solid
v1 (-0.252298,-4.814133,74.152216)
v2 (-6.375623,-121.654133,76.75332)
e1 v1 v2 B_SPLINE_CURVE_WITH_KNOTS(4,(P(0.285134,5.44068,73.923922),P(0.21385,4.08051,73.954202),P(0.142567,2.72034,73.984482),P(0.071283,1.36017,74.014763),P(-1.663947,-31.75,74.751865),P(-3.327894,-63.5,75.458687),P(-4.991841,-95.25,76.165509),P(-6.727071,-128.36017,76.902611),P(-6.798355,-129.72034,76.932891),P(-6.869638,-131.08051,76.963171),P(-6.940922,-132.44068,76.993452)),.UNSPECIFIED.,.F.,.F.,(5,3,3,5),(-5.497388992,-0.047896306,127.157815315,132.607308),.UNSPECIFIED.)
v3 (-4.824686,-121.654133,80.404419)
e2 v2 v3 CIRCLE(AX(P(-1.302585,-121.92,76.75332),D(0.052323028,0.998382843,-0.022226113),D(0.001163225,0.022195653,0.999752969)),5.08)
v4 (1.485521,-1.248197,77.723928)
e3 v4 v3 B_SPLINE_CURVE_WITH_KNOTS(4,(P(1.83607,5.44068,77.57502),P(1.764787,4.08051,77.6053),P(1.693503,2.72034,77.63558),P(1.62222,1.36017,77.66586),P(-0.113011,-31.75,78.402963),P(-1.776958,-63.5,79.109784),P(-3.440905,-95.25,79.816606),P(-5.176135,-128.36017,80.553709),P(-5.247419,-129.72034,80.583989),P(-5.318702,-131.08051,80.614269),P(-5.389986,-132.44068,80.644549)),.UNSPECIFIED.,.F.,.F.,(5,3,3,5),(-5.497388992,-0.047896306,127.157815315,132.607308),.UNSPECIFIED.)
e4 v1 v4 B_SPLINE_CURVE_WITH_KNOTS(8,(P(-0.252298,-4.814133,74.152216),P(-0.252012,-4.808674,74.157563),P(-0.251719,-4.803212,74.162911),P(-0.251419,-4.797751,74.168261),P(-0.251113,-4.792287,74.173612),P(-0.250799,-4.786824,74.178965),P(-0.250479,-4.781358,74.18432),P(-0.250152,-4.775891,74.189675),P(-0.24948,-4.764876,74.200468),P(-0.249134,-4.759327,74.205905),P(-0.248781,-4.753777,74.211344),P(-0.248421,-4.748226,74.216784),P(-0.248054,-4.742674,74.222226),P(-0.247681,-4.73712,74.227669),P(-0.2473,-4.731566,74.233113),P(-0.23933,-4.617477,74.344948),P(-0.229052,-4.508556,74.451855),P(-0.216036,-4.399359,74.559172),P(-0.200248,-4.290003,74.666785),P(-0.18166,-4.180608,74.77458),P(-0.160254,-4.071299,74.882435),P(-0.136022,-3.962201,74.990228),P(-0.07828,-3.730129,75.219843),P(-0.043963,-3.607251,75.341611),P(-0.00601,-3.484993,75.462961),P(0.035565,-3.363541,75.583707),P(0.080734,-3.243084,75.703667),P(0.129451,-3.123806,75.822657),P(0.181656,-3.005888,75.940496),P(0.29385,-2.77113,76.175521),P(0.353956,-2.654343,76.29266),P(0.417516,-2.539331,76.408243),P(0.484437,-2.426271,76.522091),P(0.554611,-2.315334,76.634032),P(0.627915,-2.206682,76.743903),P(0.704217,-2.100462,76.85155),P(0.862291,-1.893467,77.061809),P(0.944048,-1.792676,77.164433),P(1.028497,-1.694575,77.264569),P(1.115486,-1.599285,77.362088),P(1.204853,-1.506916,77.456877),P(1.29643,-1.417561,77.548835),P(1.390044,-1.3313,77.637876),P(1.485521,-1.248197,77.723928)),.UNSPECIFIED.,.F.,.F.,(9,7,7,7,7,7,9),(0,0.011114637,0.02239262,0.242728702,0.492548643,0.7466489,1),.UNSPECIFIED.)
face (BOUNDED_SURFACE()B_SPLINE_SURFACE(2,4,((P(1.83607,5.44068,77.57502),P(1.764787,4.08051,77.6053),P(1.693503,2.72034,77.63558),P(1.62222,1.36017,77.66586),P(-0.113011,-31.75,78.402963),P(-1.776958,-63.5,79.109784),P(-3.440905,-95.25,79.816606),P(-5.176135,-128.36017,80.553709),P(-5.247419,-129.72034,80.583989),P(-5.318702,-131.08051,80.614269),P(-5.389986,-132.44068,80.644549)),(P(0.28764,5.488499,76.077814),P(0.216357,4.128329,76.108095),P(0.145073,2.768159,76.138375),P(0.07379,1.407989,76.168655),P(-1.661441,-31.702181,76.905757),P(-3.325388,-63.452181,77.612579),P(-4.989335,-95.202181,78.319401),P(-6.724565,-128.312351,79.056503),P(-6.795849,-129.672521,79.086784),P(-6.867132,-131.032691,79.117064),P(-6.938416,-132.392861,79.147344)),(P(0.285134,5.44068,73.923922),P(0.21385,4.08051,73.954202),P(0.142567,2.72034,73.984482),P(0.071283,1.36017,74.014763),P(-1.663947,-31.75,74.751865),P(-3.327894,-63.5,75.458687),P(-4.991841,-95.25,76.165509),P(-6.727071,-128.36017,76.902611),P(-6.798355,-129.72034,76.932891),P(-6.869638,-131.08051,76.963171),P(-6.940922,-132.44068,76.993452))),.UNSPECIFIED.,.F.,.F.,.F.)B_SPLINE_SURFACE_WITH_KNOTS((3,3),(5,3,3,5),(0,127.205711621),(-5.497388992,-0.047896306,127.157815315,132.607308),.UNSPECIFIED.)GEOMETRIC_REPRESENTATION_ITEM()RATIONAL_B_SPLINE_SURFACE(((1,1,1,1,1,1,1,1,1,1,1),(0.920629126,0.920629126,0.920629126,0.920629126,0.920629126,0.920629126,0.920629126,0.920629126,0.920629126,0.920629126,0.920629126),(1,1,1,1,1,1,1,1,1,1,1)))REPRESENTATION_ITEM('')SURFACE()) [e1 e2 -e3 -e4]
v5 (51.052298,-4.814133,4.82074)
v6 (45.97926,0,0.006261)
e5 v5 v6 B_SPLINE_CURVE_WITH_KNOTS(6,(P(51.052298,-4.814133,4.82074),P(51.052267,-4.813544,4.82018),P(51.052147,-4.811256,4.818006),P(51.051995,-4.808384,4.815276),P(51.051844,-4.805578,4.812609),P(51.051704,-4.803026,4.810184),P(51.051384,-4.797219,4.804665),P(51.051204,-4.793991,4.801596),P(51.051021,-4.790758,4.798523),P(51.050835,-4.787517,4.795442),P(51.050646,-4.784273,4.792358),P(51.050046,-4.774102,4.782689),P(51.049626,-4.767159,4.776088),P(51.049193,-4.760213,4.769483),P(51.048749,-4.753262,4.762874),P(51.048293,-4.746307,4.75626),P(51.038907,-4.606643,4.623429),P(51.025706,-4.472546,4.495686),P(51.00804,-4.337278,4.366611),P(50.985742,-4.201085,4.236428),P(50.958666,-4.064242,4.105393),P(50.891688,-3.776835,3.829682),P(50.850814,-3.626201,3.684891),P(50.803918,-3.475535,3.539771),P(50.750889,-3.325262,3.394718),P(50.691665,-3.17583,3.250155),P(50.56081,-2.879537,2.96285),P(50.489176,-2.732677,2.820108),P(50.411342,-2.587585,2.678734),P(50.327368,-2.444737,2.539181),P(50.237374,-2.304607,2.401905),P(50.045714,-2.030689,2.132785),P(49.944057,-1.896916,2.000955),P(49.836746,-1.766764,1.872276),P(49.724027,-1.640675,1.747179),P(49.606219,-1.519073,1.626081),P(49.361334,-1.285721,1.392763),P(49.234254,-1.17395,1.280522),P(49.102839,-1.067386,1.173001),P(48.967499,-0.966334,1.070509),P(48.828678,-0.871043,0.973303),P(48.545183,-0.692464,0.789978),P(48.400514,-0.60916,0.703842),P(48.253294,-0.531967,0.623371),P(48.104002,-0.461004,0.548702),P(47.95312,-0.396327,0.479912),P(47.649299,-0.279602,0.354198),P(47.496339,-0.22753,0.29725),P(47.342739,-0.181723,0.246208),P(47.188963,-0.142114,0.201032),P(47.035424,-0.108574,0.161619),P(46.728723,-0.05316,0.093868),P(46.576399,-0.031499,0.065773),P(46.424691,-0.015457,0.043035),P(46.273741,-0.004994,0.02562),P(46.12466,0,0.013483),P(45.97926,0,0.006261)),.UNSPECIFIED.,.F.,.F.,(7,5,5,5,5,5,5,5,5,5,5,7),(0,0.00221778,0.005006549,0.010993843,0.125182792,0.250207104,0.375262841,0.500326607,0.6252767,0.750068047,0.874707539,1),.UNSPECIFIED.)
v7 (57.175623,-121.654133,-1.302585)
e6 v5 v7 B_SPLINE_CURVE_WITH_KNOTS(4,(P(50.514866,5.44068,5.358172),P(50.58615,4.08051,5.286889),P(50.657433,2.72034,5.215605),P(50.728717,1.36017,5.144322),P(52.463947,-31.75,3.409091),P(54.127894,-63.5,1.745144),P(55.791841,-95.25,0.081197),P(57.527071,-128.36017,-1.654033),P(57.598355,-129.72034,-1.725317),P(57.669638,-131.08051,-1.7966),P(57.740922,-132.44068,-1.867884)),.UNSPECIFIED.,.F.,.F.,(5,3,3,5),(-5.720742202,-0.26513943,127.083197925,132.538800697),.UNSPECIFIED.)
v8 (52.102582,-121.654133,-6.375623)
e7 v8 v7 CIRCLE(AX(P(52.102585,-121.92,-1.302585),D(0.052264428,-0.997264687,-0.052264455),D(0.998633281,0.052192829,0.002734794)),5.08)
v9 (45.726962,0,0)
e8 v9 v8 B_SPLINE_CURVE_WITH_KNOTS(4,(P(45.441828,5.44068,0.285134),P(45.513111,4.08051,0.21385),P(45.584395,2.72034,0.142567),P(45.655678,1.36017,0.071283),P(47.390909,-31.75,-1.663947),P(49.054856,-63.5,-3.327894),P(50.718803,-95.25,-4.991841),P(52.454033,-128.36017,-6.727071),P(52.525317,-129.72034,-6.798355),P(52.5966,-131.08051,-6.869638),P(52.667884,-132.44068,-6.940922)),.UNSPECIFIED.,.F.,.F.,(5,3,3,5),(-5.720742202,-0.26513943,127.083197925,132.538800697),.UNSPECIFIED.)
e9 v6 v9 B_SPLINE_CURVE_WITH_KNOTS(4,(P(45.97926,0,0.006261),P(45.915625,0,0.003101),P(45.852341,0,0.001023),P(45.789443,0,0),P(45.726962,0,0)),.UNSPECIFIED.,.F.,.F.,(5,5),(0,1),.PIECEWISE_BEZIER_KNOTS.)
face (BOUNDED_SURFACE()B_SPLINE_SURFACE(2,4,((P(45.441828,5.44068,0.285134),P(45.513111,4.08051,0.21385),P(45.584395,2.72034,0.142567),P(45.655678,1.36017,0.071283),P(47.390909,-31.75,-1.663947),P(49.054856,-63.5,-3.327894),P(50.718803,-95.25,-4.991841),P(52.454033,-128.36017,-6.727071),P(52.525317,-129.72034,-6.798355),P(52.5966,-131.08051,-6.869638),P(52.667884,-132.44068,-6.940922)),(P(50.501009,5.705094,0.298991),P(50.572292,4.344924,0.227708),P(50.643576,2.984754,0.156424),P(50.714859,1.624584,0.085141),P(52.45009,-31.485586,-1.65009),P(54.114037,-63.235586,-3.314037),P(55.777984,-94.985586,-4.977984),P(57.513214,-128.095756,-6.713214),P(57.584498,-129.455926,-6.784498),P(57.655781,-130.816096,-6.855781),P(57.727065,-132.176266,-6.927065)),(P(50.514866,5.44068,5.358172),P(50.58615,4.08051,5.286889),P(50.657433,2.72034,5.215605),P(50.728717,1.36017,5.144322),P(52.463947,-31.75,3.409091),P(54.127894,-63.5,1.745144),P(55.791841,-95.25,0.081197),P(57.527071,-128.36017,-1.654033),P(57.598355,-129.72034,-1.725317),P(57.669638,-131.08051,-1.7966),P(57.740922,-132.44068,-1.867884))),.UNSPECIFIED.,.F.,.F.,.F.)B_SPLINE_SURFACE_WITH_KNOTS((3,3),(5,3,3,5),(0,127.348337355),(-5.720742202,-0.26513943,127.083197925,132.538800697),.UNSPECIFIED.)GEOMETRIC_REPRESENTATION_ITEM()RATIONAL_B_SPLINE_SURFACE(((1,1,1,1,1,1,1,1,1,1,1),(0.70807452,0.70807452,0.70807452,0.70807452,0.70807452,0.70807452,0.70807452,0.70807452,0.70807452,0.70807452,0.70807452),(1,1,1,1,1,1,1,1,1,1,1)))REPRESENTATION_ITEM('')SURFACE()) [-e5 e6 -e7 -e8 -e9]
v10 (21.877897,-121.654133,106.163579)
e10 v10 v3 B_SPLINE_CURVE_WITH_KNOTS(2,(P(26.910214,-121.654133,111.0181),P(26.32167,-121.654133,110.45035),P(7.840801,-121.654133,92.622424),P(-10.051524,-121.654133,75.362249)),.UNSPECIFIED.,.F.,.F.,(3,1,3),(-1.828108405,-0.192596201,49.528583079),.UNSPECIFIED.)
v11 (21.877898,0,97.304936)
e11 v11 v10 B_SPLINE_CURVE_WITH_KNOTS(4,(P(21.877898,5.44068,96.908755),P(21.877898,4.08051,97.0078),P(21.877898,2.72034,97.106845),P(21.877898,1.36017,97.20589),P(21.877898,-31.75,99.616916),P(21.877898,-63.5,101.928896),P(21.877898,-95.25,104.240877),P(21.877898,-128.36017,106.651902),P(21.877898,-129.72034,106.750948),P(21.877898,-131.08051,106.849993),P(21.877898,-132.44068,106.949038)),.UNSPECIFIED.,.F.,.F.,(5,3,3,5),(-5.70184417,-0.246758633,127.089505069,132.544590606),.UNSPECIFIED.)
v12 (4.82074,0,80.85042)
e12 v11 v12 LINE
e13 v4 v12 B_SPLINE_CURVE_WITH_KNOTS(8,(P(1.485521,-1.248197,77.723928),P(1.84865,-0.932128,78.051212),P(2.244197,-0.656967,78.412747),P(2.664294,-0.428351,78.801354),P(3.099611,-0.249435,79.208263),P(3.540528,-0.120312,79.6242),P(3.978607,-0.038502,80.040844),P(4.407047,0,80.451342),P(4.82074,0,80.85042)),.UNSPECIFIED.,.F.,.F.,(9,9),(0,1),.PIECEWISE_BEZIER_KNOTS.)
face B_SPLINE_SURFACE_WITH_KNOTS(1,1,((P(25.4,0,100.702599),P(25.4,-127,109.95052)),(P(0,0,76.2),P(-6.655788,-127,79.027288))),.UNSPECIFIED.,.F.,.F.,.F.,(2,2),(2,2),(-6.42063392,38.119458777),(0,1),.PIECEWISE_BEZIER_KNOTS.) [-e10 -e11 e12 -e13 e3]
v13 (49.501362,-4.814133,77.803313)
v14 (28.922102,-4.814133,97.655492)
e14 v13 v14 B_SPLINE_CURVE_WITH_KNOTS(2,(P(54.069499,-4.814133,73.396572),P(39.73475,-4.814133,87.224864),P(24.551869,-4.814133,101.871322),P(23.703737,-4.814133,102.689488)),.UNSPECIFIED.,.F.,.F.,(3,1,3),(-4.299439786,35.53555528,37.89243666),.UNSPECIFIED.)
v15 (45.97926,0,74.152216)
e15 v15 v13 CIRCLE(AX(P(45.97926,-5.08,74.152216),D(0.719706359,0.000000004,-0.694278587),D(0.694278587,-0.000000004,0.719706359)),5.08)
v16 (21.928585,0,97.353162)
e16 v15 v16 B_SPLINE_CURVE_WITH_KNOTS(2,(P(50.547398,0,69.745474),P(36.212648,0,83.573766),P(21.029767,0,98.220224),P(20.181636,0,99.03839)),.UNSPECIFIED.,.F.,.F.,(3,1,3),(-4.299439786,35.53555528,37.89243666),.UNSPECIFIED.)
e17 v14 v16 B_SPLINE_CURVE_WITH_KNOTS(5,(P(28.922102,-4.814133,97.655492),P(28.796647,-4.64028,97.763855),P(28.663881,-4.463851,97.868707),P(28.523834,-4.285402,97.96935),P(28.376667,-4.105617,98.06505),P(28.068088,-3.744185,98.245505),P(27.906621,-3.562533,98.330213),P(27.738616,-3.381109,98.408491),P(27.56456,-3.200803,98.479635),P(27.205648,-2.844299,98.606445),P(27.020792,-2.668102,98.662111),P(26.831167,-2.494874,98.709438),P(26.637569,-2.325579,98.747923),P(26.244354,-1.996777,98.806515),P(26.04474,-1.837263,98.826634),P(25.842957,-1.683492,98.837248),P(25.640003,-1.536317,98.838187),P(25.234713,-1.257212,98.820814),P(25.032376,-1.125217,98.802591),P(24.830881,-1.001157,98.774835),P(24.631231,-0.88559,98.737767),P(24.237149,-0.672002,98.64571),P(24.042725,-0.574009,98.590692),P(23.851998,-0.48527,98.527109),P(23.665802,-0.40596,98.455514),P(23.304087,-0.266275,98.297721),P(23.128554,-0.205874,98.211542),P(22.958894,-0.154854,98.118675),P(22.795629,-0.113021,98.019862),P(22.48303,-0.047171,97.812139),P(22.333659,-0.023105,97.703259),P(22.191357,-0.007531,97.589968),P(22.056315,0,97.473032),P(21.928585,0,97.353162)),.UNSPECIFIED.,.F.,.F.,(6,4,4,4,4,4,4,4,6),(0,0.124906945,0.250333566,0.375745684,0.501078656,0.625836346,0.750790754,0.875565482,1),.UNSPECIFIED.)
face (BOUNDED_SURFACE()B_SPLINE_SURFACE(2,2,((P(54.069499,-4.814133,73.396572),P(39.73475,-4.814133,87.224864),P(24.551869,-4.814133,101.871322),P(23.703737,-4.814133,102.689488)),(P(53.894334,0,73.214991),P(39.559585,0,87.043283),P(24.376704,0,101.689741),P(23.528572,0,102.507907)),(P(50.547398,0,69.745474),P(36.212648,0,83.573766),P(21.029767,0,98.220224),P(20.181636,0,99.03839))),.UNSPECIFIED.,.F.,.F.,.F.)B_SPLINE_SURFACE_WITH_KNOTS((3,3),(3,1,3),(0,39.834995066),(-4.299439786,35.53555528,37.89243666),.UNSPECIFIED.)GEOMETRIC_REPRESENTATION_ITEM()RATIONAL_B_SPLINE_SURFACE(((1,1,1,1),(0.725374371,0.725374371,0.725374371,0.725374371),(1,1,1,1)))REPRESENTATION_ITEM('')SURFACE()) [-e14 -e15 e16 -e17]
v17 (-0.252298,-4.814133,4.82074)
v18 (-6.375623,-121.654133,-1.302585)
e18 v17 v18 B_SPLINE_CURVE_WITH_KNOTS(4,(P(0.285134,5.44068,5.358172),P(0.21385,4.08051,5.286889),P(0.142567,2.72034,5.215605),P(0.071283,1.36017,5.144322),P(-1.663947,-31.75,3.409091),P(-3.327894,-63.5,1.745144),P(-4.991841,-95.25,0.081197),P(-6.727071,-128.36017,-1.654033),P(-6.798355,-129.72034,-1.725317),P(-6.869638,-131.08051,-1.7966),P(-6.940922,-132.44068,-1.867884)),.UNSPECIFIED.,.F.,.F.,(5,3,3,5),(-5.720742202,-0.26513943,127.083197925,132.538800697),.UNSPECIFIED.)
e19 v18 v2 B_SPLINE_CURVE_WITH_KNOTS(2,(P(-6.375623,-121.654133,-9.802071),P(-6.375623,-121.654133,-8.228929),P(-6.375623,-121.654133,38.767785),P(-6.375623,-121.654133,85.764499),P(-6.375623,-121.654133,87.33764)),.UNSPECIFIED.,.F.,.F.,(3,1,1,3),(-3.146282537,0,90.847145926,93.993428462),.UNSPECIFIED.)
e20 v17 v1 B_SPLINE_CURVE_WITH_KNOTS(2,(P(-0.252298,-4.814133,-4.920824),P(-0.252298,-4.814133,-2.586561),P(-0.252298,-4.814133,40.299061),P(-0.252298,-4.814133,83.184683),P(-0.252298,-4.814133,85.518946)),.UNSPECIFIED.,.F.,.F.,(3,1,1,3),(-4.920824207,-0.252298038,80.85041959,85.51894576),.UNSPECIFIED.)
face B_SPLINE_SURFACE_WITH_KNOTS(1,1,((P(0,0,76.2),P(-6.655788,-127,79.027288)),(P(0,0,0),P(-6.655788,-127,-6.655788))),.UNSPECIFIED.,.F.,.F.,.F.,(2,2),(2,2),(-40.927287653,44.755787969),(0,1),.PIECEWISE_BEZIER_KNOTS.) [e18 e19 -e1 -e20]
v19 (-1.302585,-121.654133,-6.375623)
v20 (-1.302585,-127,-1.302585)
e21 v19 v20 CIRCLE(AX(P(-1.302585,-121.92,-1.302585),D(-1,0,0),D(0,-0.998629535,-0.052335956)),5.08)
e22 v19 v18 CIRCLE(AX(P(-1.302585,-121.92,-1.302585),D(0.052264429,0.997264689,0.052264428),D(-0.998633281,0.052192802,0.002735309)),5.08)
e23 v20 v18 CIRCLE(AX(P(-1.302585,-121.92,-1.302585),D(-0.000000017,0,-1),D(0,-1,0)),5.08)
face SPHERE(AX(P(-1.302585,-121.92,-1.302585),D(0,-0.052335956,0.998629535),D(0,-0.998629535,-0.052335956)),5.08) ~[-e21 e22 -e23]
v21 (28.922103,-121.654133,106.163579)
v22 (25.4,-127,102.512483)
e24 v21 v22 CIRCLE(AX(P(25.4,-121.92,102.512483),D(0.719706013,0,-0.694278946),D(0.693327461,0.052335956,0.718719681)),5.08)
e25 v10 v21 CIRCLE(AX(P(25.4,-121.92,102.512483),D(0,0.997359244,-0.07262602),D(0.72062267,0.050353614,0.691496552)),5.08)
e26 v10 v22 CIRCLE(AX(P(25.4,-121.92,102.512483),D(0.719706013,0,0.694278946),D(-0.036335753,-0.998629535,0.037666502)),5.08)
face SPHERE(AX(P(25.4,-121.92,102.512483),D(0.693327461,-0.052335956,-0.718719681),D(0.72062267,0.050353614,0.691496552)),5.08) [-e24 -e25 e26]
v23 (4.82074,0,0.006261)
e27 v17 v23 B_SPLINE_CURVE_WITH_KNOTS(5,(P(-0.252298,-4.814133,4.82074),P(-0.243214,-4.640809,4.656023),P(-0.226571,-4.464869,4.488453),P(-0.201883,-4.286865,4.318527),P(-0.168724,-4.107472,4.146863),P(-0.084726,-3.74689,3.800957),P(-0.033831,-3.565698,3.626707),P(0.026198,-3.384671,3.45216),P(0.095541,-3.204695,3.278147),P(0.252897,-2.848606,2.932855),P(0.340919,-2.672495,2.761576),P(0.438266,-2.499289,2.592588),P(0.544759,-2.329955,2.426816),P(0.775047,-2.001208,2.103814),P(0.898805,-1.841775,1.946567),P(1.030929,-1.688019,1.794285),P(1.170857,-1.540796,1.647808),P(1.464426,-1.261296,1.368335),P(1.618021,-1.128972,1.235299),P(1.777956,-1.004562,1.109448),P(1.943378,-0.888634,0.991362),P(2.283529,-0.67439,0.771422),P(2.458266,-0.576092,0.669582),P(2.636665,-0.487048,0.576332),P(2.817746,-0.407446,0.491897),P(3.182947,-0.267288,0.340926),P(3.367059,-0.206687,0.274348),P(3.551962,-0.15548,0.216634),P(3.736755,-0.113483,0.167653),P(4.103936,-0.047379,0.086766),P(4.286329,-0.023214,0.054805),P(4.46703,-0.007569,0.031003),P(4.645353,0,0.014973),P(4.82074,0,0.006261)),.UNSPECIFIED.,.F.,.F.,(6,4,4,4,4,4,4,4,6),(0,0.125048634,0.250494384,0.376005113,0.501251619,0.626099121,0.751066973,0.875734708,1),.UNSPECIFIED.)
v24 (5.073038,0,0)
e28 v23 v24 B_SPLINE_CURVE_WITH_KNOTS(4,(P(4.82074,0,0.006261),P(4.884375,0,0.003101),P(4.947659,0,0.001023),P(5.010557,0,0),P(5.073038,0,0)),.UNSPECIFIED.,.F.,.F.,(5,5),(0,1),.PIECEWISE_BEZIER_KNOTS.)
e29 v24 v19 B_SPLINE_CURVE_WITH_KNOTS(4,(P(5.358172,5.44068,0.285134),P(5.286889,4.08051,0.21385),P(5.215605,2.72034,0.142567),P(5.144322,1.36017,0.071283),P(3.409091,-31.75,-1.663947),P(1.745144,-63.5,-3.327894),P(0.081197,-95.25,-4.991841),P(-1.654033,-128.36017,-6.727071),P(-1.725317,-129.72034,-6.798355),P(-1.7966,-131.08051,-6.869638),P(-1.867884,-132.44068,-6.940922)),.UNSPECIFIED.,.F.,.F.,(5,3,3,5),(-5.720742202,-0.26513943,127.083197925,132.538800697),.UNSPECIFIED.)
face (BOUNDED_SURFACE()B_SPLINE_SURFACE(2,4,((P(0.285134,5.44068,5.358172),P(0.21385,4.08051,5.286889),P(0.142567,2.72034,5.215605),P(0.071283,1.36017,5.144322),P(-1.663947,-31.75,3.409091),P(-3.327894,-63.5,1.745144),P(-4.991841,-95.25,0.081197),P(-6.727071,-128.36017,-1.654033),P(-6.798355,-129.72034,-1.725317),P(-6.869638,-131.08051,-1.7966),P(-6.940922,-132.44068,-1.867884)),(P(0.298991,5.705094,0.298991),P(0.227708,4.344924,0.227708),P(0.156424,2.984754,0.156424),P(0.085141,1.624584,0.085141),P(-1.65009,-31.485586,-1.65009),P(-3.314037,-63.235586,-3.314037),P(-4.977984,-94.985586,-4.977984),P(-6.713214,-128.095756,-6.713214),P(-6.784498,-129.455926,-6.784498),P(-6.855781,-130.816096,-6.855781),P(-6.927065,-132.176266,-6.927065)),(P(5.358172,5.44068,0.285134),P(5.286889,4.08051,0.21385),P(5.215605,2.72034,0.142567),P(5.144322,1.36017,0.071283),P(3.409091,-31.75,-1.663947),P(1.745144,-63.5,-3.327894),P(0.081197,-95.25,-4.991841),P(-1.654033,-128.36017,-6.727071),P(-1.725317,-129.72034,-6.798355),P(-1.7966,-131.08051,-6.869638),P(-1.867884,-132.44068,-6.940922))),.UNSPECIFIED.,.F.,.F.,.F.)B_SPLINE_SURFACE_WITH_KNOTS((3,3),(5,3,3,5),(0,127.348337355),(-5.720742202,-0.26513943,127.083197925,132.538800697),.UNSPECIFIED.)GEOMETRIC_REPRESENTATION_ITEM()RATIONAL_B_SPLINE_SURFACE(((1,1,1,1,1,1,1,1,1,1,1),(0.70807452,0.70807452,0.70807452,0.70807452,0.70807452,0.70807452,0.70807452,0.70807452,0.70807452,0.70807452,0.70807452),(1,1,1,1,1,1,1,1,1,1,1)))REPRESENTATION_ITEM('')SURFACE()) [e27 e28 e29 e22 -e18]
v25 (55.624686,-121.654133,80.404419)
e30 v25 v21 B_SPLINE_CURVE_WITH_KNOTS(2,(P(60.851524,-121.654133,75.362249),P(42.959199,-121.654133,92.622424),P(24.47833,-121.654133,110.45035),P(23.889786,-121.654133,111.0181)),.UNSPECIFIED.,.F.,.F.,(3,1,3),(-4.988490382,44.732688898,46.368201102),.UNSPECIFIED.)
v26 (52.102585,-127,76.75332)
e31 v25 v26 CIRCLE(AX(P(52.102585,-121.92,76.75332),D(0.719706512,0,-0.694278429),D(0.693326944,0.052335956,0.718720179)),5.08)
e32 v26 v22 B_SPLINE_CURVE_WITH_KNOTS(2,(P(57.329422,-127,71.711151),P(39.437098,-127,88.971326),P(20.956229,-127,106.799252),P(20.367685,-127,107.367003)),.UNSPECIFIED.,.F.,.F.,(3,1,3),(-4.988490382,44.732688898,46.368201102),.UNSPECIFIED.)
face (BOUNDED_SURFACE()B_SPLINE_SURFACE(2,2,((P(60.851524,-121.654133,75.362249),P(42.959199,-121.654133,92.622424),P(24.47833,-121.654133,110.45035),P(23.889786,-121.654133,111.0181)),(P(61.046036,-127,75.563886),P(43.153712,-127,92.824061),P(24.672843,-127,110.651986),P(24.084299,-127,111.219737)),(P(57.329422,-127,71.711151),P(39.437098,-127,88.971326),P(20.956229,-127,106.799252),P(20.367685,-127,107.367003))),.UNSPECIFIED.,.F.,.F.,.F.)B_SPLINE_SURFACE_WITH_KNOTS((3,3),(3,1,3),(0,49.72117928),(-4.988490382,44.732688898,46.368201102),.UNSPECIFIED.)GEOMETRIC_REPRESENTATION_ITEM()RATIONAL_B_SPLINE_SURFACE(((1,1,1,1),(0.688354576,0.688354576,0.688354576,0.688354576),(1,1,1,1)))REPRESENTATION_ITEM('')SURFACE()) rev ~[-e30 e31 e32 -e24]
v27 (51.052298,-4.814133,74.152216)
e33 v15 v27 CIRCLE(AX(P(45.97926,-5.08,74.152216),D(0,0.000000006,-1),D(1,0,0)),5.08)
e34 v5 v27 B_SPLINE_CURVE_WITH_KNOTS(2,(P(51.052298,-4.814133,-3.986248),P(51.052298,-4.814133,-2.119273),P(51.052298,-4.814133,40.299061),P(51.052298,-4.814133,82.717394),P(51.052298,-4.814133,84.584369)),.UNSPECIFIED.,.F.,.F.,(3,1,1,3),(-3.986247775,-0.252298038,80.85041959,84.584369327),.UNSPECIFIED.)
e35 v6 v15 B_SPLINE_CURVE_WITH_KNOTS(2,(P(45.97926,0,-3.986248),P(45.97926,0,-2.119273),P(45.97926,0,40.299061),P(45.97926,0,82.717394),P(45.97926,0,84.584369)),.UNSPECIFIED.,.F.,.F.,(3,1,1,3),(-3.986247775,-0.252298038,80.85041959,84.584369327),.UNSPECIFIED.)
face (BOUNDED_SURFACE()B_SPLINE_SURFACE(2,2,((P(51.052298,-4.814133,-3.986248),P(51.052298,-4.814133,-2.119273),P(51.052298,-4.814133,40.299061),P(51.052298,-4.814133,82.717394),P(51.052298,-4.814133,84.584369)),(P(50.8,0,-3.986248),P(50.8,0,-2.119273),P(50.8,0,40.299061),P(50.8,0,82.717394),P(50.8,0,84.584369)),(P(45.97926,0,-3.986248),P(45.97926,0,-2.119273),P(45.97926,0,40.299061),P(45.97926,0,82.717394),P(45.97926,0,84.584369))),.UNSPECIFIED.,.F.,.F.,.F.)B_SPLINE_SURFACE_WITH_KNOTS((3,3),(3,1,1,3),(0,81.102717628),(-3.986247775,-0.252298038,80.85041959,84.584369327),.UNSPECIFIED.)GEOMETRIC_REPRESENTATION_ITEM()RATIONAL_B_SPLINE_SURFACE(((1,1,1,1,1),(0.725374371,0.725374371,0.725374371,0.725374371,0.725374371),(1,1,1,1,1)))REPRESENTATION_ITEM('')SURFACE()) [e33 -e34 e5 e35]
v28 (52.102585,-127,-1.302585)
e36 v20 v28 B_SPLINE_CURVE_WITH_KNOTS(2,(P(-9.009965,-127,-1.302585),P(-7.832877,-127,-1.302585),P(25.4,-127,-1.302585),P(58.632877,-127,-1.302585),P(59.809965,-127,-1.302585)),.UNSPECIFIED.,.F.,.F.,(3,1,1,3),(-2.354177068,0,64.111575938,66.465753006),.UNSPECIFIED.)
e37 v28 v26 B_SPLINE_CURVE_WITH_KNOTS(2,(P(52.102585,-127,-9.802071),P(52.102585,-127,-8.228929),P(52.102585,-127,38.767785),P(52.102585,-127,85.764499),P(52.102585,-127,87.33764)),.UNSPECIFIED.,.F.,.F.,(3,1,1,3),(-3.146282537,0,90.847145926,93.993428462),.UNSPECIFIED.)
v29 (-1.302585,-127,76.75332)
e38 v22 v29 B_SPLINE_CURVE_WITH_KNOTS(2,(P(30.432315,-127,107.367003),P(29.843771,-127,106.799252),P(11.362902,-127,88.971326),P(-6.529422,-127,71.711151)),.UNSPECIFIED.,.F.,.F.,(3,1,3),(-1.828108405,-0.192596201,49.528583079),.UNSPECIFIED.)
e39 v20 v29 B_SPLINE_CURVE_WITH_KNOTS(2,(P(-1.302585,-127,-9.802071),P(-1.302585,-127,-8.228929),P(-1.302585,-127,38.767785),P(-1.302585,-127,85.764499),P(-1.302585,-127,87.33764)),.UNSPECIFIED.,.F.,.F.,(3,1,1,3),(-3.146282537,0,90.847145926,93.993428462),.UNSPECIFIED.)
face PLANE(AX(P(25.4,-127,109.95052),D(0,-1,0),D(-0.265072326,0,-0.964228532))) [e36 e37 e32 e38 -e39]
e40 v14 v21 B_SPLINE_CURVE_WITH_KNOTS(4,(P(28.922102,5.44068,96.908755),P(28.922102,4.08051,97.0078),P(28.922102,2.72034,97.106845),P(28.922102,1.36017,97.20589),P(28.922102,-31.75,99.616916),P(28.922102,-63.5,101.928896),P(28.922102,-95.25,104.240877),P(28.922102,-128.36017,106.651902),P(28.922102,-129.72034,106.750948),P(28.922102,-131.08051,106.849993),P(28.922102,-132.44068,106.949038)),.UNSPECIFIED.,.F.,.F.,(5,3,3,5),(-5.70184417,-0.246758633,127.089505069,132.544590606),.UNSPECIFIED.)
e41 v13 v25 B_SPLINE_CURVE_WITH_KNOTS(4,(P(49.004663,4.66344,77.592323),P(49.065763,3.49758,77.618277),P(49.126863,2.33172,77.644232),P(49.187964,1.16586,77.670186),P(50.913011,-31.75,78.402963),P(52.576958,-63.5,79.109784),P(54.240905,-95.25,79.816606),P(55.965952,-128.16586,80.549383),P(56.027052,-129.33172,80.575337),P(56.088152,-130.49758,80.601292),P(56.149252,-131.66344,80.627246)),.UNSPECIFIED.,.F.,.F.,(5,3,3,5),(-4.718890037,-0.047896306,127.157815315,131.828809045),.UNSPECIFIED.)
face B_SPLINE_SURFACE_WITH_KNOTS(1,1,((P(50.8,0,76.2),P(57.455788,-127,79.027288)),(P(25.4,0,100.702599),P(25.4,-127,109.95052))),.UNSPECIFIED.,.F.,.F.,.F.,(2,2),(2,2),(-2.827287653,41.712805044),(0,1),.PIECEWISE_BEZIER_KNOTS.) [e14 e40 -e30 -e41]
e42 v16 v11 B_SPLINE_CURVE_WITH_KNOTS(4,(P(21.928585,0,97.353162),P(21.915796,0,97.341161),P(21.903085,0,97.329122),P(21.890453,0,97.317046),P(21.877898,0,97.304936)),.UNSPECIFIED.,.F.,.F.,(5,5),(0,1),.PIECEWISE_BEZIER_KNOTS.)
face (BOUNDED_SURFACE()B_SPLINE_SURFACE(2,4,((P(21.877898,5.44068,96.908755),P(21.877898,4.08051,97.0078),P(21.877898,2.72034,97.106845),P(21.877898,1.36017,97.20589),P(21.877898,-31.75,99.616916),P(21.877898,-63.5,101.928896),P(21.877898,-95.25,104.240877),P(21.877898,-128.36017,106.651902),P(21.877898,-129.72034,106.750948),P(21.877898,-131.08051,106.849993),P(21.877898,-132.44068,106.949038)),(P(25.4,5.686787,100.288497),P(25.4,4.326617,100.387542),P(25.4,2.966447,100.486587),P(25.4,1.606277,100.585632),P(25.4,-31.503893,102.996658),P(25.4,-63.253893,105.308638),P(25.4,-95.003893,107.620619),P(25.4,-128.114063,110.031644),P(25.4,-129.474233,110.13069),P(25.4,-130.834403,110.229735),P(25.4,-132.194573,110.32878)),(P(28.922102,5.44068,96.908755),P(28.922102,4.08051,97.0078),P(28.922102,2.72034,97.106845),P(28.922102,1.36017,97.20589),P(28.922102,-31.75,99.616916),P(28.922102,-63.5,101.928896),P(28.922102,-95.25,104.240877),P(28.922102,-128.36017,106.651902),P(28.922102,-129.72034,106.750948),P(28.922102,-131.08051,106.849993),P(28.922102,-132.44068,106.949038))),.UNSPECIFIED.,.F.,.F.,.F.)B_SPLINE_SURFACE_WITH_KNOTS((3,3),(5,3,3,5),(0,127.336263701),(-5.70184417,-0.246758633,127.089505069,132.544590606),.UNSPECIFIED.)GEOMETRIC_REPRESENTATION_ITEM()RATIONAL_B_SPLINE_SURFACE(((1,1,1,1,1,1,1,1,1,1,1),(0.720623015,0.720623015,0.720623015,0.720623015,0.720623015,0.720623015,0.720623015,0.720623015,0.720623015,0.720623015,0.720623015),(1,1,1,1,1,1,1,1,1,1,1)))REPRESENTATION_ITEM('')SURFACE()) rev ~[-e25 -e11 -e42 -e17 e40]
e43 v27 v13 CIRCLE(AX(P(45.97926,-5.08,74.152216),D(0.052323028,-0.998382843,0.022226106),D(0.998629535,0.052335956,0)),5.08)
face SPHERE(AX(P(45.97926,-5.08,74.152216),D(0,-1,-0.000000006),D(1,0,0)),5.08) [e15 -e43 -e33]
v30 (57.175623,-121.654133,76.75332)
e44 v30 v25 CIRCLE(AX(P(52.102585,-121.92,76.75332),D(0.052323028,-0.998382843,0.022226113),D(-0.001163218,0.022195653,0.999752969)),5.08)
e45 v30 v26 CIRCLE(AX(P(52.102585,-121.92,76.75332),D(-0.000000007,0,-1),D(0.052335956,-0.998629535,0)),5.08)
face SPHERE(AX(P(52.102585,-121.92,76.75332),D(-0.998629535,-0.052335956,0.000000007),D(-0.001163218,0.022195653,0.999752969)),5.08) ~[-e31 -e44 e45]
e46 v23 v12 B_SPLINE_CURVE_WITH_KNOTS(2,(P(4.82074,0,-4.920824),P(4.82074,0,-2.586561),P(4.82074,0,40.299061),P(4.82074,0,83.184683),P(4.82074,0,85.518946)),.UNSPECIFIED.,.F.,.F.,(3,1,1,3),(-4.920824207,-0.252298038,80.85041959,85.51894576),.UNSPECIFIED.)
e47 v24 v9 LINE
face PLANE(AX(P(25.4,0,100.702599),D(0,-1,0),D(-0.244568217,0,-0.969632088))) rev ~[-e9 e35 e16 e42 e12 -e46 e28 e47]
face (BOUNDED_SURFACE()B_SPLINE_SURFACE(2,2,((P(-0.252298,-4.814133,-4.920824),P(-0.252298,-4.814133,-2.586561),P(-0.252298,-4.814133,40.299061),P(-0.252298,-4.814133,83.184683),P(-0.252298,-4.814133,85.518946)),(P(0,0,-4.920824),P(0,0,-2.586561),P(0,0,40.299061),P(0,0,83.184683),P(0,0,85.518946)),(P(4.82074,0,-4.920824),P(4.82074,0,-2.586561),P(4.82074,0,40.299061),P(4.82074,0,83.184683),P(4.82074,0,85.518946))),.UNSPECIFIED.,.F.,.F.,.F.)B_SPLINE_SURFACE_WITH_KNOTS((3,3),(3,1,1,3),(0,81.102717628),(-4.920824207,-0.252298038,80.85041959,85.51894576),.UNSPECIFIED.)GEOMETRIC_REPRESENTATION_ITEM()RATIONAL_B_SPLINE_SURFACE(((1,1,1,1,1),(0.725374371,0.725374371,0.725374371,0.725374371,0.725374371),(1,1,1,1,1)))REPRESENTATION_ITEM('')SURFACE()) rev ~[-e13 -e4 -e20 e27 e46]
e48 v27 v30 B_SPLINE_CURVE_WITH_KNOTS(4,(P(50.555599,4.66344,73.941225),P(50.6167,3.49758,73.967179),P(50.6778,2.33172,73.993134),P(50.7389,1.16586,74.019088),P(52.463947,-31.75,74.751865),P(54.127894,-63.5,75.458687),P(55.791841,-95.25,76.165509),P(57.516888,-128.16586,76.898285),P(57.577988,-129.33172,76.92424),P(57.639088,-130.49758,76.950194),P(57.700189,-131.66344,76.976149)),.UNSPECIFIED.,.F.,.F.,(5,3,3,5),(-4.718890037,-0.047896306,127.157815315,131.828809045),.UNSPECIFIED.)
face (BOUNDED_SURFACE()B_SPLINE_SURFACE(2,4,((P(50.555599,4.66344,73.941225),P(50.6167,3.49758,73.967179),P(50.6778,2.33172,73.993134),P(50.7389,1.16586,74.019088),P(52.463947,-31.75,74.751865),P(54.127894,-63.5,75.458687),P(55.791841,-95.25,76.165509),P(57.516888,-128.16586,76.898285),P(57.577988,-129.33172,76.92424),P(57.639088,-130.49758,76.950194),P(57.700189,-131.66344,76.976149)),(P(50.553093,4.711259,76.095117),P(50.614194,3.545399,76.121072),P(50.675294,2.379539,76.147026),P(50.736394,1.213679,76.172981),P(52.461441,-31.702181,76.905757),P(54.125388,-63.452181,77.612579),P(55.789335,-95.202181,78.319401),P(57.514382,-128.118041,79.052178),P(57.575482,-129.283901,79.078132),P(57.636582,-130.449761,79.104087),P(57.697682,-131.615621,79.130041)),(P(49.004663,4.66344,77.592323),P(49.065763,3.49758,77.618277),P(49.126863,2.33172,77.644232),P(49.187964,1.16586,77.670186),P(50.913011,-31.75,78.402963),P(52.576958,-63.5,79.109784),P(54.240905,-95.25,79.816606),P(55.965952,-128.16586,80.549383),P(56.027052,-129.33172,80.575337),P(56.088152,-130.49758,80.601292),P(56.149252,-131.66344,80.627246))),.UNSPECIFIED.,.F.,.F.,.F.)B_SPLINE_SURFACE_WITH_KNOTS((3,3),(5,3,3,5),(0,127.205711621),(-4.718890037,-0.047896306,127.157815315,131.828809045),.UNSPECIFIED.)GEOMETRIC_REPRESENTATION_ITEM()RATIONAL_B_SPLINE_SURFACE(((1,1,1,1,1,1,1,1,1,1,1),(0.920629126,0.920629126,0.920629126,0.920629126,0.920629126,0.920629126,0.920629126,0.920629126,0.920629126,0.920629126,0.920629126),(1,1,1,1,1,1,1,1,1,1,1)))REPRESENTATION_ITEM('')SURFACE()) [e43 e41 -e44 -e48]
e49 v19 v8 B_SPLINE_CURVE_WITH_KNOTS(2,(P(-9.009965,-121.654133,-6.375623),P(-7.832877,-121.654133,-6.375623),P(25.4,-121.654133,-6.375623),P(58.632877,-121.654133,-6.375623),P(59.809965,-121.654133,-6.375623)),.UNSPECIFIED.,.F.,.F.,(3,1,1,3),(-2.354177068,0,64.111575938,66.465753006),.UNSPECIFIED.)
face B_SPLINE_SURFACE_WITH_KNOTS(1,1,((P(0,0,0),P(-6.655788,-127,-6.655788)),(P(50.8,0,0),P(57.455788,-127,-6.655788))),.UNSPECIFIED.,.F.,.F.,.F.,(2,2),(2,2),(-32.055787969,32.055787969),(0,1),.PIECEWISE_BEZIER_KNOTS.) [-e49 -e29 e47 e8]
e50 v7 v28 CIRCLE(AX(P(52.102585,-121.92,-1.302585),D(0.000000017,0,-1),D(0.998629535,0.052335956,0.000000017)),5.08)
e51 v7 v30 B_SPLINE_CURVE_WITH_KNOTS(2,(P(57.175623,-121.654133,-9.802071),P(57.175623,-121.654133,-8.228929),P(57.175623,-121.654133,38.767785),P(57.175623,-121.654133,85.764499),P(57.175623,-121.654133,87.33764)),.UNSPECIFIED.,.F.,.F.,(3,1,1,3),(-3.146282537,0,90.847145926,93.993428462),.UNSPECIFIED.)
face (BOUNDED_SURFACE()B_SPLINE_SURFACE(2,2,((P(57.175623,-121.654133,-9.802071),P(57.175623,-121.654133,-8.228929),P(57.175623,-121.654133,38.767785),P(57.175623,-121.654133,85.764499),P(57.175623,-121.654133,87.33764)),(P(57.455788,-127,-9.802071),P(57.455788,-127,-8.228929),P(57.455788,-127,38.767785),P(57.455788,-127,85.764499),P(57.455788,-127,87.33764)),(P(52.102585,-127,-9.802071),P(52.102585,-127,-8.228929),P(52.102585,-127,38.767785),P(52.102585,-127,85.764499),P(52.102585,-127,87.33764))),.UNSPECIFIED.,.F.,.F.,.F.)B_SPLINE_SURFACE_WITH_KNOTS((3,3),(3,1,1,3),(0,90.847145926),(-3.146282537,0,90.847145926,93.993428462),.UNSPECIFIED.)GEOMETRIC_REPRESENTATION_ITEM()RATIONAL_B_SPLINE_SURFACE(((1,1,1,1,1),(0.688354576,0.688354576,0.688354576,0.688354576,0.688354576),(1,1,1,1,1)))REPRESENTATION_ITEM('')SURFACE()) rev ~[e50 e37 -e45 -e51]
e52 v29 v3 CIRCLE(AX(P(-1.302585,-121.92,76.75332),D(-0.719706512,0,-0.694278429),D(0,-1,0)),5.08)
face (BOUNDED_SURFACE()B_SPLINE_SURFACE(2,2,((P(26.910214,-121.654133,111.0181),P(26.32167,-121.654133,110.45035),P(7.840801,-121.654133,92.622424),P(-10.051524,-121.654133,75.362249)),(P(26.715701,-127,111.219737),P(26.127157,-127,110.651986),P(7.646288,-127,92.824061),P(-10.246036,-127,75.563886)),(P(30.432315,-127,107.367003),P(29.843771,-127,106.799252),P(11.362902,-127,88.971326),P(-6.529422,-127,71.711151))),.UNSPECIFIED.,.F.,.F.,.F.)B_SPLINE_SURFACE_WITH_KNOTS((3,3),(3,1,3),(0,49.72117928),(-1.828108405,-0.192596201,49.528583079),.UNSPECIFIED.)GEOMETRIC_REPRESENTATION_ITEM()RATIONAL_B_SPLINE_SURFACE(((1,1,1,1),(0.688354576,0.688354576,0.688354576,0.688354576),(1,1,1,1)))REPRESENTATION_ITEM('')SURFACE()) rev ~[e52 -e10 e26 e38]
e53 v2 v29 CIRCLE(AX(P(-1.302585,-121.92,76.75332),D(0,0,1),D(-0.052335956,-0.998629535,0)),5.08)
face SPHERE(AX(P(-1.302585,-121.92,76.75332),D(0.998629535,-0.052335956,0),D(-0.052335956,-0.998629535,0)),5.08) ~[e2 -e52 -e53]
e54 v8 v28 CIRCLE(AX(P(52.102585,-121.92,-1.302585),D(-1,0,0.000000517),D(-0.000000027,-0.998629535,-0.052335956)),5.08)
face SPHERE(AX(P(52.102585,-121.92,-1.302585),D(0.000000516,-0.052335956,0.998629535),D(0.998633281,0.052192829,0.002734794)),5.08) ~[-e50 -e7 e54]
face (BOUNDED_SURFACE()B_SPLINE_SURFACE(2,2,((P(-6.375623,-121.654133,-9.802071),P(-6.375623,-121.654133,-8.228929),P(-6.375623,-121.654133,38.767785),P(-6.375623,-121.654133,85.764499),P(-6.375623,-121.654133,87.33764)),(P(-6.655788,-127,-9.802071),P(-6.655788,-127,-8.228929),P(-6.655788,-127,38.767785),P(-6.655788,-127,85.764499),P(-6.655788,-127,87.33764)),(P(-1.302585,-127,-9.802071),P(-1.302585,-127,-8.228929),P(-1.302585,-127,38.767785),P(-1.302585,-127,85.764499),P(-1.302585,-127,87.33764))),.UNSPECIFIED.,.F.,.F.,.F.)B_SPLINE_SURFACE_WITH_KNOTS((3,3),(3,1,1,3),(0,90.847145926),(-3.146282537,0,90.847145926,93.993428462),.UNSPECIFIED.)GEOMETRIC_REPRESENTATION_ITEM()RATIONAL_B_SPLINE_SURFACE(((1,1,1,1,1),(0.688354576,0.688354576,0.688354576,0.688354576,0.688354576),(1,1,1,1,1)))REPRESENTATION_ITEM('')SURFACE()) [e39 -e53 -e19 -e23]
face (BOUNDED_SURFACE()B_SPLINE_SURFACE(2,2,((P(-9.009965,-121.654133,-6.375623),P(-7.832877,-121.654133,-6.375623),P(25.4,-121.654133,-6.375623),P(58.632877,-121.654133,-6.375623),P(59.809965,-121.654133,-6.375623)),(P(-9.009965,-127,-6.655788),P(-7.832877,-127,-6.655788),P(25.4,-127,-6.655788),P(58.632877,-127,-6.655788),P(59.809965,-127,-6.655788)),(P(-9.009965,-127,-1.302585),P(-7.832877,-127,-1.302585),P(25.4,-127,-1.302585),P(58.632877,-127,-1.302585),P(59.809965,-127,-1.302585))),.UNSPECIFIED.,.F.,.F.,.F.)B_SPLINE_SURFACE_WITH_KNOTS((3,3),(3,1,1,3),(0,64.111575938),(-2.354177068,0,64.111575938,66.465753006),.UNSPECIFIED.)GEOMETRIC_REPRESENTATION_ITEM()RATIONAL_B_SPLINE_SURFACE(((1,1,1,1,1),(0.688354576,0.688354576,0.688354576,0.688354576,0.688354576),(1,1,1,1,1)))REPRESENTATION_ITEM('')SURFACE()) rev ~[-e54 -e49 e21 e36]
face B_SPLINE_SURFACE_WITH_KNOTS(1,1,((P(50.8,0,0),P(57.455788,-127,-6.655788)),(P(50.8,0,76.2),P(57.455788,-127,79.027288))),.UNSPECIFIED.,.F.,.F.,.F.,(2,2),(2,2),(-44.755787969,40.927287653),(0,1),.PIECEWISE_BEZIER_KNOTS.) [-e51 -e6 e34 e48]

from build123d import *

# Parameters (mm, degrees)
F0_W     = 50.8
F0_H     = 76.2
F1_DEPTH = 127
F1_TAPER = -3
F2_R     = 5.08


with BuildPart() as f1:
    # F0 (on Front) → F1 (new body)
    with BuildSketch(Plane.XZ):
        Polygon((25.4, 100.702598691), (0, 76.2), (50.8, 76.2), align=None)
        with Locations((25.4, 38.1)):
            Rectangle(F0_W, F0_H)
    extrude(amount=F1_DEPTH, taper=F1_TAPER)

    # F2
    f2_edges = [f1.edges().sort_by_distance(p)[0] for p in [
        (41.427894, -127, 94.488904),
        (54.127894, -63.5, 77.613644),
        (57.455788, -127, 36.18575),
        (50.8, 0, 38.1),
        (38.1, 0, 88.451299),
        (25.4, -63.5, 105.326559),
        (54.127894, -63.5, -3.327894),
        (9.372106, -127, 94.488904),
        (-6.655788, -127, 36.18575),
        (25.4, -127, -6.655788),
        (0, 0, 38.1),
        (-3.327894, -63.5, -3.327894),
        (-3.327894, -63.5, 77.613644),
    ]]
    fillet(f2_edges, radius=F2_R)


solid = f1.part
